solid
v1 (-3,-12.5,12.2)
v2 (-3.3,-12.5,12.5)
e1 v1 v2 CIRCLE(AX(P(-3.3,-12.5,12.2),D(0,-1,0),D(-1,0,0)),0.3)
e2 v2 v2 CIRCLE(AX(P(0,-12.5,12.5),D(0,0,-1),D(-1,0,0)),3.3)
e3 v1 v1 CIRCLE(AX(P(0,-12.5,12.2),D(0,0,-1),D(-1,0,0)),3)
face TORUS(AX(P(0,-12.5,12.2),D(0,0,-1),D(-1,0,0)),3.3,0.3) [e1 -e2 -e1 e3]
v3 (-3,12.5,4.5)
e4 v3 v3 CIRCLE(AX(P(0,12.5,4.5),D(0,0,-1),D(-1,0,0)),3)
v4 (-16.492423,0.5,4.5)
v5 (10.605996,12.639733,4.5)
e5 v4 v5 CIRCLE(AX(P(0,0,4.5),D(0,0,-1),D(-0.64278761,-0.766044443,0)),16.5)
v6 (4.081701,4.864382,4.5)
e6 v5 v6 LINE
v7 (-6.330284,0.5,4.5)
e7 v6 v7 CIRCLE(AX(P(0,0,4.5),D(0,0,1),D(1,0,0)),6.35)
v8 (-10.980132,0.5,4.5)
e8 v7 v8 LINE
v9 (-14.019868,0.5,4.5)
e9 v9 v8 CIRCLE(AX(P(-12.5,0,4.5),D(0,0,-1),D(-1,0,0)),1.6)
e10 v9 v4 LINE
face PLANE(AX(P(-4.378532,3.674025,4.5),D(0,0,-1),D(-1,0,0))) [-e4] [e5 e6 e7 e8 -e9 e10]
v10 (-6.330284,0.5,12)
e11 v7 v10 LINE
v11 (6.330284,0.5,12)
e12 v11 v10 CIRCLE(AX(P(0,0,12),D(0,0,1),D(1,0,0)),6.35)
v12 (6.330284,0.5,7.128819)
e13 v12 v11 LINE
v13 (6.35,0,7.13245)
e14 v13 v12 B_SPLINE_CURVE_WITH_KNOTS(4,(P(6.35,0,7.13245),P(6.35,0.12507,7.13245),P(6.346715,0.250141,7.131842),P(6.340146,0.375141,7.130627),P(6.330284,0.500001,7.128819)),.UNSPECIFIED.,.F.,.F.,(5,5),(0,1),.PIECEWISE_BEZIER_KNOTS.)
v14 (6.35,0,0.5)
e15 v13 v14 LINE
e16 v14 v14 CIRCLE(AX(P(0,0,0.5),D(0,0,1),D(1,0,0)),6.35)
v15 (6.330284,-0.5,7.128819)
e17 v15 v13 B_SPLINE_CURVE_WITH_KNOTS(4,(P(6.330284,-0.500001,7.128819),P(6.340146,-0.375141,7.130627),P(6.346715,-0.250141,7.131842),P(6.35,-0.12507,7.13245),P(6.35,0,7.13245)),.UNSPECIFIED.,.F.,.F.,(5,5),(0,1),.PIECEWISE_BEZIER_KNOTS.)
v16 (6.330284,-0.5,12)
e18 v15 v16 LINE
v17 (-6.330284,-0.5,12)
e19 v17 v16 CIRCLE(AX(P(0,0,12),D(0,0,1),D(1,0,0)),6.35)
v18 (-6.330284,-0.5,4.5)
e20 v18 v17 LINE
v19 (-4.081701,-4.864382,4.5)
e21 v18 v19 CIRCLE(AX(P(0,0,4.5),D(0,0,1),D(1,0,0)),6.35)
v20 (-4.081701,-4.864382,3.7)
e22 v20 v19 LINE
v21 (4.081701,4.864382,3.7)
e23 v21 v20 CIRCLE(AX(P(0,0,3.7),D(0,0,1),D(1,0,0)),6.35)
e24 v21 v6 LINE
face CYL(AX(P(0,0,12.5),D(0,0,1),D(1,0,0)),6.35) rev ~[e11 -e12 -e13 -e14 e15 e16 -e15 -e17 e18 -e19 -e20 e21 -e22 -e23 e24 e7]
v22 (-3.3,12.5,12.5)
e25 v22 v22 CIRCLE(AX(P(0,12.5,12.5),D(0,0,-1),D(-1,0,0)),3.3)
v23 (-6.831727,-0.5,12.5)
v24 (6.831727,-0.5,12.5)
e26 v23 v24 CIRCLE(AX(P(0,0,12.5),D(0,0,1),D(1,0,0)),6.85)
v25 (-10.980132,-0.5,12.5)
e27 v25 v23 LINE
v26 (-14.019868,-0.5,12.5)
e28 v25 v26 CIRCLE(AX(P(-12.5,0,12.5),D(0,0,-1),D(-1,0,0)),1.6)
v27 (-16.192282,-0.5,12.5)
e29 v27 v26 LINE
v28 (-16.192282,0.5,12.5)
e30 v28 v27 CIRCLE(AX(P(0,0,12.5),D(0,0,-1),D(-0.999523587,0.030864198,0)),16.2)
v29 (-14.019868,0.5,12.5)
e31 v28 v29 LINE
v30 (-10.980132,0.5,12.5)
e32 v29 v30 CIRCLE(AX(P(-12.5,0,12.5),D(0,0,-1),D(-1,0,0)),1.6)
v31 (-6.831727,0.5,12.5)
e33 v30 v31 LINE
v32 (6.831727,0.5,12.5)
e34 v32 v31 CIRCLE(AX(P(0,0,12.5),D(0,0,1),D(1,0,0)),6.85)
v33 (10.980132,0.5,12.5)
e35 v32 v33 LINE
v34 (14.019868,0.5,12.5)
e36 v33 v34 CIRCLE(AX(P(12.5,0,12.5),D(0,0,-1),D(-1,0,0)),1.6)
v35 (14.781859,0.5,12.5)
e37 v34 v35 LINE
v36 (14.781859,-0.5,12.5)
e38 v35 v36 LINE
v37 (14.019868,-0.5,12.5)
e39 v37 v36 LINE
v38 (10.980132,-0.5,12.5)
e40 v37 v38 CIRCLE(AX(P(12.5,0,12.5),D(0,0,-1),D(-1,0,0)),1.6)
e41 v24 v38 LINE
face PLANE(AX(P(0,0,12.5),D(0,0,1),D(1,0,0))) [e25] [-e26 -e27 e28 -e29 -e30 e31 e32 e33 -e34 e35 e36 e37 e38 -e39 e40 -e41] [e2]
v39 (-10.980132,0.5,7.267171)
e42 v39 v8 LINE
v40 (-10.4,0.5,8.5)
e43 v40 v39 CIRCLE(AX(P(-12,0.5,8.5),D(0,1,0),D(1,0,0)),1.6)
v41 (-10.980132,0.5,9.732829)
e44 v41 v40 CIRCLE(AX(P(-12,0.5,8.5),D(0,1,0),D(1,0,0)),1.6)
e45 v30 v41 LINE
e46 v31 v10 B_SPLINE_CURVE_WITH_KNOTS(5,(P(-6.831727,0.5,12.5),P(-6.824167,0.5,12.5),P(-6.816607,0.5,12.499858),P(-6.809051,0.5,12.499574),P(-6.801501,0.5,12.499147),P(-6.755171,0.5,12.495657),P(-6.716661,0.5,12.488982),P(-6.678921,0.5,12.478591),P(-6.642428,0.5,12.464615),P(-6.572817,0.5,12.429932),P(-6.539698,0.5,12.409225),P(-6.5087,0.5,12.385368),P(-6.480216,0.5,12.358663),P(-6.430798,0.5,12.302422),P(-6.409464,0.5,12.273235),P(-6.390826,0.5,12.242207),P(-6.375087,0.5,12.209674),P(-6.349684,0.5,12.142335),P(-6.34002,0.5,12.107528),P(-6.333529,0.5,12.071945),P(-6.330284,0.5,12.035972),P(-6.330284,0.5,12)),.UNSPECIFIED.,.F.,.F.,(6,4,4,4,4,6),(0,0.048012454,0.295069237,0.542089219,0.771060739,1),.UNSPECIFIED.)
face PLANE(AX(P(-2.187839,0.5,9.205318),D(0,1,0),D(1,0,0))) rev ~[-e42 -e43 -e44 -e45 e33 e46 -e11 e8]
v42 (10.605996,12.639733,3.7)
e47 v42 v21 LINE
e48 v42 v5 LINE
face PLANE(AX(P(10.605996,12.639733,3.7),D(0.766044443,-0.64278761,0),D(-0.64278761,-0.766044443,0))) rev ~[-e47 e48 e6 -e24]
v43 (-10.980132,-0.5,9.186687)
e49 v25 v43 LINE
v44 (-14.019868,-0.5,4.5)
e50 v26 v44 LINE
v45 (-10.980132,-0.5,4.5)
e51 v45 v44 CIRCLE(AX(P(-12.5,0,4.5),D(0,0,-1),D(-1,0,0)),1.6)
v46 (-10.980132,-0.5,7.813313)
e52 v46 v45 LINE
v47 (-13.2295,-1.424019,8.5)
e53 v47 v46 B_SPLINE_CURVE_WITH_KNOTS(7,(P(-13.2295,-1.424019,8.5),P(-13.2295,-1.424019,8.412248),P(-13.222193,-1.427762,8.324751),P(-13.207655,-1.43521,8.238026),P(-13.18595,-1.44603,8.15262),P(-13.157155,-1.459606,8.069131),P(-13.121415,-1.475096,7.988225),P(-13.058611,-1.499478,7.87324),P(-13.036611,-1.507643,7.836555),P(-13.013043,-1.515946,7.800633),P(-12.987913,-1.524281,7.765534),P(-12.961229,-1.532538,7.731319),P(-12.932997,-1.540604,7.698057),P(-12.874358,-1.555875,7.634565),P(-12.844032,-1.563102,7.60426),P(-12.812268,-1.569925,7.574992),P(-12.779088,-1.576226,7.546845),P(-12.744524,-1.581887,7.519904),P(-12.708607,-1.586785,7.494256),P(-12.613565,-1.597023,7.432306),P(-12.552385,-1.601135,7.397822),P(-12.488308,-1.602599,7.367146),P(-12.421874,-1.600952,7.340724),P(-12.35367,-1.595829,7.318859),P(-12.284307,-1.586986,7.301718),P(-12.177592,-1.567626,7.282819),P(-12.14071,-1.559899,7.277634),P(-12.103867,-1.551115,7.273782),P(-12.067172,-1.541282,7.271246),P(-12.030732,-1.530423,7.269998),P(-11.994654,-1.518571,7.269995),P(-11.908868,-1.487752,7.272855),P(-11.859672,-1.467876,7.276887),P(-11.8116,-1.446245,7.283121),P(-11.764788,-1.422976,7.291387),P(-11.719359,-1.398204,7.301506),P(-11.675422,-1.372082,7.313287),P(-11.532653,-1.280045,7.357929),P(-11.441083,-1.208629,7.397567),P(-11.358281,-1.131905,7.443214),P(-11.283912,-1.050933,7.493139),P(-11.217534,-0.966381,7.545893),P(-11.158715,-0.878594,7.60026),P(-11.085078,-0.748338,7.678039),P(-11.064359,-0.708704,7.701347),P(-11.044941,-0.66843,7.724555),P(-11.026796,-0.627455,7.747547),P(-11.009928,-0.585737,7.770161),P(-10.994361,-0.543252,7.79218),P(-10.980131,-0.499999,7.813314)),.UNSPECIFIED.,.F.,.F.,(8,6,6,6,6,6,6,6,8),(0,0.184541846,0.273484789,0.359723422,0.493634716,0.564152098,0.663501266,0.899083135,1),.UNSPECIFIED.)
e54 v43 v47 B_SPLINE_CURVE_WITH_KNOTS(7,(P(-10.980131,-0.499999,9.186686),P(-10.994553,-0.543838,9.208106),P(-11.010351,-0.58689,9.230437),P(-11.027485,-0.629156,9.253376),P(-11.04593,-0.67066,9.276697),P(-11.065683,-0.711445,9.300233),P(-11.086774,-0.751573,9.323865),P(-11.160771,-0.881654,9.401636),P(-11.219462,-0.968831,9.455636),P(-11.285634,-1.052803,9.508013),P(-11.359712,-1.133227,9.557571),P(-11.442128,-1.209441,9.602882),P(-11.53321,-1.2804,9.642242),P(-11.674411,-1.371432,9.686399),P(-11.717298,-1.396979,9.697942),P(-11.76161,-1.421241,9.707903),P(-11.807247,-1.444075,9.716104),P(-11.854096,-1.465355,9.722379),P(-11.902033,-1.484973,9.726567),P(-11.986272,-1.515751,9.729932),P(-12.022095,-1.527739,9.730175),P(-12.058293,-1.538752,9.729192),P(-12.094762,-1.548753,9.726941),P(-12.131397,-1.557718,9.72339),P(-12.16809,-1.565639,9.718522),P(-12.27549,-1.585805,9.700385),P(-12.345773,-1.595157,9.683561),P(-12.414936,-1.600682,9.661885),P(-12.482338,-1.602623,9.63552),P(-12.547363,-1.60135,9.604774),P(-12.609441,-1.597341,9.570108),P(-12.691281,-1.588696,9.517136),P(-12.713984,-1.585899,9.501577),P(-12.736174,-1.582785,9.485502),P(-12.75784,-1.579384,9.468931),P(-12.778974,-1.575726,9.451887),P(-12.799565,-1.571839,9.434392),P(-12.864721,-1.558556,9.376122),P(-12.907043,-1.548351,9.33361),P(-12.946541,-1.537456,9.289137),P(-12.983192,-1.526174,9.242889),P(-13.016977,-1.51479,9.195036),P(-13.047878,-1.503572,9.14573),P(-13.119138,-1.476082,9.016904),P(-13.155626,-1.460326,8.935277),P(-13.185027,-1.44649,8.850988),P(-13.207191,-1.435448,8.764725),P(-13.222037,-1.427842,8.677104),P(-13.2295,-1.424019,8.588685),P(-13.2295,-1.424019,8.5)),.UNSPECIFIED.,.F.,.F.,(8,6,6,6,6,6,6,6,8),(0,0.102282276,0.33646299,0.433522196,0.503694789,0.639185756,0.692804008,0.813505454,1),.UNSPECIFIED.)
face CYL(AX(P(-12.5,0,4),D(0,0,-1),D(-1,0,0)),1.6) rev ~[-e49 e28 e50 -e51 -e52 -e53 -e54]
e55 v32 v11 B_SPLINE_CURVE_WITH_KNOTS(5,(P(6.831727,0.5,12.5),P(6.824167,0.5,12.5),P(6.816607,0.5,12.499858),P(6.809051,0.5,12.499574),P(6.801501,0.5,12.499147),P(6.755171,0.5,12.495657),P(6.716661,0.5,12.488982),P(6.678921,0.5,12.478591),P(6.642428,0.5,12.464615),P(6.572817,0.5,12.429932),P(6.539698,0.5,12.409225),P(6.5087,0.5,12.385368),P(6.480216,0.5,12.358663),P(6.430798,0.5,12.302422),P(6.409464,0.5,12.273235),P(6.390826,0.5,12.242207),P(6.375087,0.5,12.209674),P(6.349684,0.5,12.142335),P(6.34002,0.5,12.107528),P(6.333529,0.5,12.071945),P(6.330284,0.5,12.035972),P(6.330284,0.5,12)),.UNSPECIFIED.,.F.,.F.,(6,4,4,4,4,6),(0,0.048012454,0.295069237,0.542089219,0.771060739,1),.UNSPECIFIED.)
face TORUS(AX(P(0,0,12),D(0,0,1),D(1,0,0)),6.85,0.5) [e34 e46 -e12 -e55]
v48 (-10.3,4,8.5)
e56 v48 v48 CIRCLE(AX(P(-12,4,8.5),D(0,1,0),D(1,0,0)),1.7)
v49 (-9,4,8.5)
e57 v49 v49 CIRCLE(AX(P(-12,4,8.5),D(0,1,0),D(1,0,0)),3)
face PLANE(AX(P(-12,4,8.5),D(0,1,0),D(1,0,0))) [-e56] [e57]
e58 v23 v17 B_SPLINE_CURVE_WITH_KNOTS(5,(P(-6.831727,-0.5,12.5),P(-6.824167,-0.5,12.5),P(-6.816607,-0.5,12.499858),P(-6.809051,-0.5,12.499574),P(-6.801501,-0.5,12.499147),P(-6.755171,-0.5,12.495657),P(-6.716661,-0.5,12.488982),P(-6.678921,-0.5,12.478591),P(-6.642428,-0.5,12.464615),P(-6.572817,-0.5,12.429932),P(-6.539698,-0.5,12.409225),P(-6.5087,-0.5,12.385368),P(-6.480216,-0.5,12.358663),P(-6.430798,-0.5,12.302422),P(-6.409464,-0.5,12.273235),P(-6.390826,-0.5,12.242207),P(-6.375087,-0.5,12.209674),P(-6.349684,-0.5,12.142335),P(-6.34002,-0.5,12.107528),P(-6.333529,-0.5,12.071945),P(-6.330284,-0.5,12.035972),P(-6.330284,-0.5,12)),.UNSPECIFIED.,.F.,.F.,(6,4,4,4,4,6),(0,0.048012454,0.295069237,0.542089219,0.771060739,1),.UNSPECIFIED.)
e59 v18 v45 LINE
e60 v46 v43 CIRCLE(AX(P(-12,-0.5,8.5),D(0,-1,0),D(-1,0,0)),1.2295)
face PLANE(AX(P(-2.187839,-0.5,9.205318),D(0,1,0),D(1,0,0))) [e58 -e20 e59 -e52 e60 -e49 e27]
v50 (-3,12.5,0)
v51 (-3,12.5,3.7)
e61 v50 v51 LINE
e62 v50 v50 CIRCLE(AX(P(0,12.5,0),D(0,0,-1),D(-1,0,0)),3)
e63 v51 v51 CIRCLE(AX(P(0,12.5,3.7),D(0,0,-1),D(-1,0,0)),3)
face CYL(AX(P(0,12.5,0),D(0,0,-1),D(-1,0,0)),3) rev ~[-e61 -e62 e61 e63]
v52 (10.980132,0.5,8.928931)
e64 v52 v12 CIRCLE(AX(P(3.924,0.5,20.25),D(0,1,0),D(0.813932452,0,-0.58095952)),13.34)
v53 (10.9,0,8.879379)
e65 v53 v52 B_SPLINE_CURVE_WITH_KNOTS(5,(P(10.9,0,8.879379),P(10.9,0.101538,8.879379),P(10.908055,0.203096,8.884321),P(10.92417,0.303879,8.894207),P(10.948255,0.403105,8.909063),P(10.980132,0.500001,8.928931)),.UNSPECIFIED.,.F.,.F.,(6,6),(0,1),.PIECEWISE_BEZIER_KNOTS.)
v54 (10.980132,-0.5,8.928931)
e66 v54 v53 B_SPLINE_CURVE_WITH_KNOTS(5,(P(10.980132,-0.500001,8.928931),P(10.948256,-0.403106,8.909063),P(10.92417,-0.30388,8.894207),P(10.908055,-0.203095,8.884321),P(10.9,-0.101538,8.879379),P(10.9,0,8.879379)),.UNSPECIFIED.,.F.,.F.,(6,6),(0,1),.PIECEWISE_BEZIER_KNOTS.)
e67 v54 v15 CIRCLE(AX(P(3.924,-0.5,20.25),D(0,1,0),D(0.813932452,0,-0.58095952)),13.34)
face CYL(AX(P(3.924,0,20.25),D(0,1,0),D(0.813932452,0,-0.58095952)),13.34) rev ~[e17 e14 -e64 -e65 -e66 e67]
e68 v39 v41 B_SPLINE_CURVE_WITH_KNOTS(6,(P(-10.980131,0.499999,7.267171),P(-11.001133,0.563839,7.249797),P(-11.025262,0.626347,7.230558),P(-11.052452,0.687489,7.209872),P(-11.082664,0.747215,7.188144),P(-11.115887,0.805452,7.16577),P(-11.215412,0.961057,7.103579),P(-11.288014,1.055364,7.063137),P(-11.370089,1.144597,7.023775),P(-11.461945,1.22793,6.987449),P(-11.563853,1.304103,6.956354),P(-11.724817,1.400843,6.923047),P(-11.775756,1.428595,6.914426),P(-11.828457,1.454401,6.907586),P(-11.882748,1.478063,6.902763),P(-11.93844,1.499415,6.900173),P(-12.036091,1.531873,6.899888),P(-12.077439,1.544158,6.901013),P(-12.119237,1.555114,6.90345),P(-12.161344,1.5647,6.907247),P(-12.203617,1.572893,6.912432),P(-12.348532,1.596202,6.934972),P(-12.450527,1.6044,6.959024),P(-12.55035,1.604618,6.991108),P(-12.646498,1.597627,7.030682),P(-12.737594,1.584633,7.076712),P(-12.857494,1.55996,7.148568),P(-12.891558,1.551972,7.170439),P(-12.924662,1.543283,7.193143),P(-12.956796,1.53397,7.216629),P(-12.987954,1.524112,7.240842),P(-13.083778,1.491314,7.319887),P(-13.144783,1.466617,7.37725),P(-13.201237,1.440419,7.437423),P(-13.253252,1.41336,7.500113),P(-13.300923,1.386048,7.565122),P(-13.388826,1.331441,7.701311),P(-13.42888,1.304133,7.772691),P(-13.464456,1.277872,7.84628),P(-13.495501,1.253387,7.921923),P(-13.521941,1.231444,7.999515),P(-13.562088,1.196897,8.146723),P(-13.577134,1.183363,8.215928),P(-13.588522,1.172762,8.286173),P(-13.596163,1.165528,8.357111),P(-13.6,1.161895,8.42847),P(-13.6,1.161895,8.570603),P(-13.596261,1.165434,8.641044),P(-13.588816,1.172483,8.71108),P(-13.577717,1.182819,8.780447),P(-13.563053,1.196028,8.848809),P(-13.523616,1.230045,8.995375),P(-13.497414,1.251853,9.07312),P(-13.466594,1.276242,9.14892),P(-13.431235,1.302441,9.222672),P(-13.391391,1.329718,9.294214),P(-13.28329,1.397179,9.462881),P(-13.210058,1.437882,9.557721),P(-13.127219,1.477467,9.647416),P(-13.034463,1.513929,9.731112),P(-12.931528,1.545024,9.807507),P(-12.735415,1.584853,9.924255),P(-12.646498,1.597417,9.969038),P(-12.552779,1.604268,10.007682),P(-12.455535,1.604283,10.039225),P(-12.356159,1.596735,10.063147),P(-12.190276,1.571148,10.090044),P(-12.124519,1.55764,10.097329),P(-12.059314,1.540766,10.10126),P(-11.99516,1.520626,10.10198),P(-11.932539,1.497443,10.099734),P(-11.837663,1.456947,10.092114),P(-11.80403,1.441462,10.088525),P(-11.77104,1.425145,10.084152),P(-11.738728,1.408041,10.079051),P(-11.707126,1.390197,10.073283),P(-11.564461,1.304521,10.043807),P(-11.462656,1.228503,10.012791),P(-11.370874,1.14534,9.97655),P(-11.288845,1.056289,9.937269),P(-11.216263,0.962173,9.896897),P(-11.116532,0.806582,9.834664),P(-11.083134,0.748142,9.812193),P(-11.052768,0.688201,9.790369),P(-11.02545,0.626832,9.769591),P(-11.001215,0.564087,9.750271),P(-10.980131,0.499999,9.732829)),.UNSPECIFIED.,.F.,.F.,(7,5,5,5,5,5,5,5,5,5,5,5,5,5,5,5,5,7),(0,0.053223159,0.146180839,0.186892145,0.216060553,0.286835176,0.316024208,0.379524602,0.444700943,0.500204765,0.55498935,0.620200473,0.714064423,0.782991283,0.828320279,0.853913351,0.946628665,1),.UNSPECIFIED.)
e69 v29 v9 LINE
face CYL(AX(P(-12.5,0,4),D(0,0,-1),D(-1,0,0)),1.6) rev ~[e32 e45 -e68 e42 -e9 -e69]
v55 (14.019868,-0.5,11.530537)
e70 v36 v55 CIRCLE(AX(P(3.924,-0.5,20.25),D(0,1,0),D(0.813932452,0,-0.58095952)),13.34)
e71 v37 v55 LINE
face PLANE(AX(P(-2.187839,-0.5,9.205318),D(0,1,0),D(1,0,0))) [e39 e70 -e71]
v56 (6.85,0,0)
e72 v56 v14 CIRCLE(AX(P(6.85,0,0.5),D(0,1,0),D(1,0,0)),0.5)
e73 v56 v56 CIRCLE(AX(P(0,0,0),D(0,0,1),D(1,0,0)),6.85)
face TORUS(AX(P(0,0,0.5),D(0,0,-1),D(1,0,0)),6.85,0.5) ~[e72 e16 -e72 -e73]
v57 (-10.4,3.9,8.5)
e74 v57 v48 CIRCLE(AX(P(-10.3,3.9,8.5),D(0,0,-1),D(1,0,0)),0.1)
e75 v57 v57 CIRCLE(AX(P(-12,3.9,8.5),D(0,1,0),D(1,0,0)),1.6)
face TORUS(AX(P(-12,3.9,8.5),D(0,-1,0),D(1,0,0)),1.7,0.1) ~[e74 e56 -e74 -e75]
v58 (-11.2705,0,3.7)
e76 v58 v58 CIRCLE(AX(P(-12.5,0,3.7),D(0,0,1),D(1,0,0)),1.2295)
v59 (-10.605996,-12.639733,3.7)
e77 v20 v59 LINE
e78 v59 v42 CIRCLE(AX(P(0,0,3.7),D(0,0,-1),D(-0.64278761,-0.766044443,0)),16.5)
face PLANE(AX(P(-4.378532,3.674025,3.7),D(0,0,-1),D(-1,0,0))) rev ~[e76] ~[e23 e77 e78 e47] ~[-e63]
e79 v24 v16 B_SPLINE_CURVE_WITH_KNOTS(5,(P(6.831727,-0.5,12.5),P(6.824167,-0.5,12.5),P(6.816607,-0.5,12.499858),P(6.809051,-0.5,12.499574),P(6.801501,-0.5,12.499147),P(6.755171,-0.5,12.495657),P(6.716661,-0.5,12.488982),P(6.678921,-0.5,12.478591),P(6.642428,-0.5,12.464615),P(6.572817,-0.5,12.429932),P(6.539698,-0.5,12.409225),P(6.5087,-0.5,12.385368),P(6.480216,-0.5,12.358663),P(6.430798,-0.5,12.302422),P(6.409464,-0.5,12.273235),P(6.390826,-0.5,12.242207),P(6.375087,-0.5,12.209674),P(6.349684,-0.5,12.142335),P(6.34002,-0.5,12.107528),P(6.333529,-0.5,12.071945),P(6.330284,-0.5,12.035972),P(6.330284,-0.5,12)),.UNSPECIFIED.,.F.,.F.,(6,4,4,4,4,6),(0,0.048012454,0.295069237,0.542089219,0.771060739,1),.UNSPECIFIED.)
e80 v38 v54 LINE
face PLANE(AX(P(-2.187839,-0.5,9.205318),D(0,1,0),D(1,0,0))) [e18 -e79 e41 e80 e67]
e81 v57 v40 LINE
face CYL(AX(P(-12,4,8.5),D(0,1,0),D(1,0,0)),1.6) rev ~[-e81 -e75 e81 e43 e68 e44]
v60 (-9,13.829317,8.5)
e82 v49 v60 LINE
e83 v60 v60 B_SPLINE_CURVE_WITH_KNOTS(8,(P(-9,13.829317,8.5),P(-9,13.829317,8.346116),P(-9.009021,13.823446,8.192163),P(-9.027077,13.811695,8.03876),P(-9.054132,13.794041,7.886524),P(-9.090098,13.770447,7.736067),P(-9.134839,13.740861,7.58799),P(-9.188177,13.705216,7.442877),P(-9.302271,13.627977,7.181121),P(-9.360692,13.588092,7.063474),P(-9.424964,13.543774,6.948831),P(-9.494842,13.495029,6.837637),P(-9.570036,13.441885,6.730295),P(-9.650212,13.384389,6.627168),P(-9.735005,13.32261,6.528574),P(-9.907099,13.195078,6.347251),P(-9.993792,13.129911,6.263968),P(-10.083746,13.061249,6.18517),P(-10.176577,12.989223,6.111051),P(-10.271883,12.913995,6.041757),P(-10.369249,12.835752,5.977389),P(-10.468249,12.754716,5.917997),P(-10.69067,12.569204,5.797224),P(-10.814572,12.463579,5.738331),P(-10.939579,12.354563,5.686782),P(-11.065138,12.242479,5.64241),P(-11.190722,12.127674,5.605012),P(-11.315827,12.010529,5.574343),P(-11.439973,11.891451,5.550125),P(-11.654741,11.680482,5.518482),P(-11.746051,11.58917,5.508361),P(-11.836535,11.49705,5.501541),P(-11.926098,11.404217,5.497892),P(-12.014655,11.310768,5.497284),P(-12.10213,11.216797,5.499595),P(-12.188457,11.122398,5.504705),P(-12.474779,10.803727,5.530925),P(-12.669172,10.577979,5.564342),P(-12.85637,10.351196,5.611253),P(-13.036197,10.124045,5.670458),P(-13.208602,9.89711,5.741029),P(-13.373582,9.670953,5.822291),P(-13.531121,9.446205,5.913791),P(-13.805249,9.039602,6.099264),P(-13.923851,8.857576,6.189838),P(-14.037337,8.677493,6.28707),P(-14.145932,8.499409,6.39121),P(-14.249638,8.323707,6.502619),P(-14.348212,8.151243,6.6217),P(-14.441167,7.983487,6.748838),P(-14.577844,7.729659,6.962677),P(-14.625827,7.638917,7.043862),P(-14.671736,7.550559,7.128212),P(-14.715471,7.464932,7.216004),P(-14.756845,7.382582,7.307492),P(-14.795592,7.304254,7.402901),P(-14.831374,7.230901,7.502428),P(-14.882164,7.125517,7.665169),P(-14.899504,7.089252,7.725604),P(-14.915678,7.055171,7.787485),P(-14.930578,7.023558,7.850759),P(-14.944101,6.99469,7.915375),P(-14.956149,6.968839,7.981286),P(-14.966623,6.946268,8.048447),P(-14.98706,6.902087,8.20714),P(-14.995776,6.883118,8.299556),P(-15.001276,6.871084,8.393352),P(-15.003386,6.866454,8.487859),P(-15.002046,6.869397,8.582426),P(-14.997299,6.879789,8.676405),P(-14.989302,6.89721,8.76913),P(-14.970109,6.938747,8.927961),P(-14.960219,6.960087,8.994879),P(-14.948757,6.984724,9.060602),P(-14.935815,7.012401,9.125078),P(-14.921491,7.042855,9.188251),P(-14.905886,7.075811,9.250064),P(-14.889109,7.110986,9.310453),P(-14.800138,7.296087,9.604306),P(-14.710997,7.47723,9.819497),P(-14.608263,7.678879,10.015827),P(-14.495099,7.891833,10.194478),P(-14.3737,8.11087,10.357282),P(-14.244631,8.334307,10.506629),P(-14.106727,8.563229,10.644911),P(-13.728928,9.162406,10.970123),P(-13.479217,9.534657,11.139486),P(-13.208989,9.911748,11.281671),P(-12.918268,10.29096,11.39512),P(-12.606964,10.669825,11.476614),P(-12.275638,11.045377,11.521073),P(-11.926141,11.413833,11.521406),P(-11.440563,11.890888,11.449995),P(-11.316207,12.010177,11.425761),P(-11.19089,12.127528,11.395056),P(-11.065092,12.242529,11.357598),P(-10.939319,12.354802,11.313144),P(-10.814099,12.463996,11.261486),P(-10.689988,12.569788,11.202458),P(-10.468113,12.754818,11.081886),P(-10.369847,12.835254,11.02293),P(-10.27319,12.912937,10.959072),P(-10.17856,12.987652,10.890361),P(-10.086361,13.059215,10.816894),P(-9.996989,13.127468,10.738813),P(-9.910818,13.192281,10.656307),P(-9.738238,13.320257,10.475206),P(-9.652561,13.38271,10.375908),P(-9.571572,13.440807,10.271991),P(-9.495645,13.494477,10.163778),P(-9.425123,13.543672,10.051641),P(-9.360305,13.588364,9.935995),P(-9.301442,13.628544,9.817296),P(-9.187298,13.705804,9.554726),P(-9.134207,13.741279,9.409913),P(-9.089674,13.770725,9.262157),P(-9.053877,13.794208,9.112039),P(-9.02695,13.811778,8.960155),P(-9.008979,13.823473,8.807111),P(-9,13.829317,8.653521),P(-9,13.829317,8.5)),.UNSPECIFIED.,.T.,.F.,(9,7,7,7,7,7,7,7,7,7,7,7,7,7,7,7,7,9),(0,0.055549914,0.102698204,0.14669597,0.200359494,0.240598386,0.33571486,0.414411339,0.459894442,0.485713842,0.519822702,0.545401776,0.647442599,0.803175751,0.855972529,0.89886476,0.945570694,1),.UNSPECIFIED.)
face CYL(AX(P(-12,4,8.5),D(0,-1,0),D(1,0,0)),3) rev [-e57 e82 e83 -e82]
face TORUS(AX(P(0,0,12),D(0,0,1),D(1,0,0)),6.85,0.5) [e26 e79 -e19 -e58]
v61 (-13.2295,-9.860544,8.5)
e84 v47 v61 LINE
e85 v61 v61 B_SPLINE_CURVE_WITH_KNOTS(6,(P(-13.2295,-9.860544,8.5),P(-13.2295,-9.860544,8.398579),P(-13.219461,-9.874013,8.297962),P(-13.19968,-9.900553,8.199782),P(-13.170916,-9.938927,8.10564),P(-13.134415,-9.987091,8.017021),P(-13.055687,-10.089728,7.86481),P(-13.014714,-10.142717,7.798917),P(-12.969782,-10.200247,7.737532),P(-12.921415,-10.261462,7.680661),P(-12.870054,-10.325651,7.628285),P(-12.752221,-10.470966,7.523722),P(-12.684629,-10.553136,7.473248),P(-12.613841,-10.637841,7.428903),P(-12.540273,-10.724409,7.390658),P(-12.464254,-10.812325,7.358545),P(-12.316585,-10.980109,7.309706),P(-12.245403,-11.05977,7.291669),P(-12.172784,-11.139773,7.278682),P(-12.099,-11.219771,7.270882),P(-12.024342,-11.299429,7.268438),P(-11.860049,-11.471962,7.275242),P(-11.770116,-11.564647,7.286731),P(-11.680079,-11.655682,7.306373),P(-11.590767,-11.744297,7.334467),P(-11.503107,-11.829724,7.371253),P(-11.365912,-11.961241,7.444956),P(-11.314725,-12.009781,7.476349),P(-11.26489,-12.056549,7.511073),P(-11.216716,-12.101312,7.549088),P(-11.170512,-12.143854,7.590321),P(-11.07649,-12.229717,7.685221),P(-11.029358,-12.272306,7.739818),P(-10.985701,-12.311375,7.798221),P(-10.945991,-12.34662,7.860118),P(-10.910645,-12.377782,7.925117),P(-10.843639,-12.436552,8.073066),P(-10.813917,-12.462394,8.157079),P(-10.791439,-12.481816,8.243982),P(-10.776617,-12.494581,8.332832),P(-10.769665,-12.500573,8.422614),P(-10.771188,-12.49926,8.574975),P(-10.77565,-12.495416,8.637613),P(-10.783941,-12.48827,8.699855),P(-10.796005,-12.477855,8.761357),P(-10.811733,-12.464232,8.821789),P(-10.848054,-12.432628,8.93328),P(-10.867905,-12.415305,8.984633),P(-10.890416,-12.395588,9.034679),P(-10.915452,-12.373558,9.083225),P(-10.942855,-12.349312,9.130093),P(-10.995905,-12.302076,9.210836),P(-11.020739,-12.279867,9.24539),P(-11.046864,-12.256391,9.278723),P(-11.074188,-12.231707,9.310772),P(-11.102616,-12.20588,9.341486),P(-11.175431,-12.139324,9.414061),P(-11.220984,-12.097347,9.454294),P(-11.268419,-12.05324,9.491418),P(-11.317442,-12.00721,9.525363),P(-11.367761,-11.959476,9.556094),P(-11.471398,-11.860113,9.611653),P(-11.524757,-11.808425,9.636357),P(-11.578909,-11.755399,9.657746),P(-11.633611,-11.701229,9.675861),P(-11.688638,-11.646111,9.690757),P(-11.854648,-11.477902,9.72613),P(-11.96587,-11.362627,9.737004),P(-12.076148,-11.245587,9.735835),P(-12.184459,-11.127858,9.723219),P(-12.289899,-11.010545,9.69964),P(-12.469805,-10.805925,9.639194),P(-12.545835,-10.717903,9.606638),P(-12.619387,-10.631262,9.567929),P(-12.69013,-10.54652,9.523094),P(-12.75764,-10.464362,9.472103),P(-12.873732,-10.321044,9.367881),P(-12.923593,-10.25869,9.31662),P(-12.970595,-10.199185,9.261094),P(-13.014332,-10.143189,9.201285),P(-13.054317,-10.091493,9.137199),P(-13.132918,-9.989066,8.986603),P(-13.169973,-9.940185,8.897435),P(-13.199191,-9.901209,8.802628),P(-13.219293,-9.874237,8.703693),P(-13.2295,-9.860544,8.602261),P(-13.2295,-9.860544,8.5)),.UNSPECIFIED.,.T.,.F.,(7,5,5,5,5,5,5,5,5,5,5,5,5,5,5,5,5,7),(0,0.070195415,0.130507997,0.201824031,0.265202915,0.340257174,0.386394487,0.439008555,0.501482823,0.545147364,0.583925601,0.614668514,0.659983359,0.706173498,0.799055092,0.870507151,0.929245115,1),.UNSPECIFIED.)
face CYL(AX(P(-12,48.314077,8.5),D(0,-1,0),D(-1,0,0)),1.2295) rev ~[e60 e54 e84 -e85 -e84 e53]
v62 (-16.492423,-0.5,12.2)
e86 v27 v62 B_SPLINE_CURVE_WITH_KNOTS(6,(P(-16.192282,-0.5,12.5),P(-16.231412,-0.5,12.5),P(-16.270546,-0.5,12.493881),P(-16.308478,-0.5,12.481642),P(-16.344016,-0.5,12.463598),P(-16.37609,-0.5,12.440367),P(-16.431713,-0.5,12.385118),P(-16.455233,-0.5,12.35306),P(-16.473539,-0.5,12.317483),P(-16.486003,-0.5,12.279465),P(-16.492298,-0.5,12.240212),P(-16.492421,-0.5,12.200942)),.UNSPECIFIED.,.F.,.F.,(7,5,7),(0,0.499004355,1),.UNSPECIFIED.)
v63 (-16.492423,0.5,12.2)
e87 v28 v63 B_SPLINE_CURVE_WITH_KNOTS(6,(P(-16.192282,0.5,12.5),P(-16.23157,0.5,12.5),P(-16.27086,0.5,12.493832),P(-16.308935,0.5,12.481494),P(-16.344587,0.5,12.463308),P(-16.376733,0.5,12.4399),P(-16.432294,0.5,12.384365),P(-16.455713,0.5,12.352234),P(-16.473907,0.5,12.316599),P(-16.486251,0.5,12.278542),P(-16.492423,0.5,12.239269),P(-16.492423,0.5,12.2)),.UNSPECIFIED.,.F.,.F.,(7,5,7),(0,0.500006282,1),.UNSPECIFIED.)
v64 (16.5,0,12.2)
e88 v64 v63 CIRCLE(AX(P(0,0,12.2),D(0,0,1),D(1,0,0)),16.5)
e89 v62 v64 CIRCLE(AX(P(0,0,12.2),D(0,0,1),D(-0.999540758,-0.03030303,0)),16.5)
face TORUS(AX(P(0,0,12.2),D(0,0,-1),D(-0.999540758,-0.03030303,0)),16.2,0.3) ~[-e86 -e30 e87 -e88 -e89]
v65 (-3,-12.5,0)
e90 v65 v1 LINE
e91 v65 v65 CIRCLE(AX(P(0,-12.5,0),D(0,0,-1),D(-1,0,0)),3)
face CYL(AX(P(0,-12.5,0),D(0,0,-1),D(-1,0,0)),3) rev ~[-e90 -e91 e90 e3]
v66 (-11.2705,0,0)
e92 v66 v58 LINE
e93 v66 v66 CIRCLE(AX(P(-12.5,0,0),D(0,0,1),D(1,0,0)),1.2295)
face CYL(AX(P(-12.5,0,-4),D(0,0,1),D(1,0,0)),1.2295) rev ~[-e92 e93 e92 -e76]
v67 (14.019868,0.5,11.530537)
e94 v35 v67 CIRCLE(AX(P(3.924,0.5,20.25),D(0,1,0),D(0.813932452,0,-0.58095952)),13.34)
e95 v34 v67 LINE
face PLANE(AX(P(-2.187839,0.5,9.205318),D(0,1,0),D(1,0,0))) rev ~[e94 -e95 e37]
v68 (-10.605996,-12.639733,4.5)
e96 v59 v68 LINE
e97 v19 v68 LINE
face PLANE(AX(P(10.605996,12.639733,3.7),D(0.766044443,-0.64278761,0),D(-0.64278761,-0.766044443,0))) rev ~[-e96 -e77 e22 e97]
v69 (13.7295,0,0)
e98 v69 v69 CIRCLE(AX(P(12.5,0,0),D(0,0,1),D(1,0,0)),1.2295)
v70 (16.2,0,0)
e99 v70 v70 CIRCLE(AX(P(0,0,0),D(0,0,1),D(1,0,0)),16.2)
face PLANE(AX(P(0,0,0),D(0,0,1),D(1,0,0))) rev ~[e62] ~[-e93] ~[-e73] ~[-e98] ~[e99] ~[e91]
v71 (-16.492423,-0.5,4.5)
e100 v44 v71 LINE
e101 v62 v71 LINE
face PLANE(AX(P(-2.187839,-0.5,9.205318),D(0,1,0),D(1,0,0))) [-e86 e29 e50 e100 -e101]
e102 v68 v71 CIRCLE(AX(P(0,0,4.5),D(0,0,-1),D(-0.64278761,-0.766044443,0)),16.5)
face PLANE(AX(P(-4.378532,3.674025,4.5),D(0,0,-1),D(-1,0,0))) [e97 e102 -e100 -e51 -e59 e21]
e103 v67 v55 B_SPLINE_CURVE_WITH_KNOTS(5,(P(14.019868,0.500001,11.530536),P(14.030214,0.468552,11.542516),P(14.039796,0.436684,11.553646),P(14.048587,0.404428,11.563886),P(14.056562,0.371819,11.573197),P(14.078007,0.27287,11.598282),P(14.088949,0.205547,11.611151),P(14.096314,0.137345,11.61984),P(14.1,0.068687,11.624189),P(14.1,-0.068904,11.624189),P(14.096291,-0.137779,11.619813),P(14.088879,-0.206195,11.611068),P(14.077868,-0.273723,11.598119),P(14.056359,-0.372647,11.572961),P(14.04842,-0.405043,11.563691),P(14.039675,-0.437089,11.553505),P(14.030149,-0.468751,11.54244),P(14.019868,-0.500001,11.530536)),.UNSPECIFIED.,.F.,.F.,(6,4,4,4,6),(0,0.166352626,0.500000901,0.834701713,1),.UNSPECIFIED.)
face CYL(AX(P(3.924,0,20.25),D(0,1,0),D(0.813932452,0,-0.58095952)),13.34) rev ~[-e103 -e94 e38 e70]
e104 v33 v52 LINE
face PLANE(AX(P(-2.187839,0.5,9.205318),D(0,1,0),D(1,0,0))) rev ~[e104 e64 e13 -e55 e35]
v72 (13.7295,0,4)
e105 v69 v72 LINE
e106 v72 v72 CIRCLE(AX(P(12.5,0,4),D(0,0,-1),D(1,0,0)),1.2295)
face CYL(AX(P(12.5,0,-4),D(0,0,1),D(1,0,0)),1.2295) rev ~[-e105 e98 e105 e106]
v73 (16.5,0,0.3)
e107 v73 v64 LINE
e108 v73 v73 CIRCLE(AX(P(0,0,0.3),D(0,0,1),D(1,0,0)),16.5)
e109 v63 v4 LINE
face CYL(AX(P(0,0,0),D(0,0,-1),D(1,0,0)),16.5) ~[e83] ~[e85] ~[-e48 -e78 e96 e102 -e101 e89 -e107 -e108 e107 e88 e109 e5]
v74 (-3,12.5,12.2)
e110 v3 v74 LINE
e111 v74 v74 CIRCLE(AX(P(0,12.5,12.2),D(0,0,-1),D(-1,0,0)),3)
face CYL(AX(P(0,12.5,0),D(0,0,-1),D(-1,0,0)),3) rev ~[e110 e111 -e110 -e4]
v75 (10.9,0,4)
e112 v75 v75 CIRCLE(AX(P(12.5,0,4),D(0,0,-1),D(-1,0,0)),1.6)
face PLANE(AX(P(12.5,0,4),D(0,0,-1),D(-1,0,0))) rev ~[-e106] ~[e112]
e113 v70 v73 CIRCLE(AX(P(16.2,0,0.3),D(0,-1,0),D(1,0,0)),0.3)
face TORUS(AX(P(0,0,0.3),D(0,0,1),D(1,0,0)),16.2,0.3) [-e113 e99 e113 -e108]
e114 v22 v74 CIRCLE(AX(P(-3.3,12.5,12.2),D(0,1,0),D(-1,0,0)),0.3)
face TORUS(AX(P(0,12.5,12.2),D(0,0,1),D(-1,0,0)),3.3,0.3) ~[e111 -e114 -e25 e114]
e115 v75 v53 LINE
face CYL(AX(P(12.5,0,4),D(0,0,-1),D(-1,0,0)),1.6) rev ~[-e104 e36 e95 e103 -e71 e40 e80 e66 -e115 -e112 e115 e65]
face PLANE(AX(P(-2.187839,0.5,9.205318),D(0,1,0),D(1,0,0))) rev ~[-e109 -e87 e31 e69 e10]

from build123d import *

# Parameters (mm, degrees)
SKETCH1_R           = 16.5
BOSS_EXTRUDE1_DEPTH = 12.5
CUT_EXTRUDE21_DEPTH = 0.8
SKETCH4_R           = 6.35
CUT_EXTRUDE2_DEPTH  = 27.471682984
FILLET3_R           = 0.5
CUT_EXTRUDE11_DEPTH = 0.5
SKETCH5_R           = 3
CUT_EXTRUDE4_DEPTH  = 27.471683031
TAP1_D              = 2.459
TAP1_DEPTH          = 4
TAP1_TIP            = 0.738758131
SKETCH9_R           = 3
CUT_EXTRUDE6_DEPTH  = 30.133314307
SKETCH11_R          = 1.6
CUT_EXTRUDE7_DEPTH  = 4.5
TAP2_D              = 2.459
FILLET1_R           = 0.3
FILLET2_R           = 0.3
FILLET4_R           = 0.1
SKETCH16_R          = 1.6
CUT_EXTRUDE24_DEPTH = 25.834452043


with BuildPart() as part:
    # Sketch1 → Boss-Extrude1 (new body)
    with BuildSketch(Plane.XY):
        Circle(SKETCH1_R)
    extrude(amount=BOSS_EXTRUDE1_DEPTH)

    # Sketch2 → Cut-Extrude21 (cut)
    with BuildSketch(Plane(origin=(0, 0, 3.7), x_dir=(-1, 0, 0), z_dir=(0, 0, -1))):
        with BuildLine():
            Line((-10.60599556, 12.639733311), (10.60599556, -12.639733311))
            ThreePointArc((10.60599556, -12.639733311), (12.639733311, 10.60599556), (-10.60599556, 12.639733311))
        make_face()
    extrude(amount=-CUT_EXTRUDE21_DEPTH, mode=Mode.SUBTRACT)

    # Sketch4 → Cut-Extrude2 (cut, through all)
    with BuildSketch(Plane.XY.offset(12.5)):
        Circle(SKETCH4_R)
    extrude(amount=-CUT_EXTRUDE2_DEPTH, mode=Mode.SUBTRACT)

    # Fillet3
    fillet3_edges = [part.edges().sort_by_distance(p)[0] for p in [
        (-6.35, 0, 0),
        (-6.35, 0, 12.5),
    ]]
    fillet(fillet3_edges, radius=FILLET3_R)

    # Sketch3 → Cut-Extrude11 (cut, symmetric)
    with BuildSketch(Plane(origin=(0, 0, 0), x_dir=(1, 0, 0), z_dir=(0, 1, 0))):
        with BuildLine():
            Line((0, -4.5), (-16.5, -4.5))
            Line((-16.5, -4.5), (-16.5, -12.5))
            Line((-16.5, -12.5), (14.781858905, -12.5))
            ThreePointArc((14.781858905, -12.5), (8.198241617, -7.613289249), (0, -7.500183374))
            Line((0, -7.500183374), (0, -4.5))
        make_face()
    extrude(amount=CUT_EXTRUDE11_DEPTH, both=True, mode=Mode.SUBTRACT)

    # Sketch5 → Cut-Extrude4 (cut, through all)
    with BuildSketch(Plane(origin=(0, 0, 0), x_dir=(-1, 0, 0), z_dir=(0, 0, -1))):
        with Locations((0, 12.5)):
            Circle(SKETCH5_R)
        with Locations((0, -12.5)):
            Circle(SKETCH5_R)
    extrude(amount=-CUT_EXTRUDE4_DEPTH, mode=Mode.SUBTRACT)

    # Tap1
    with Locations(Plane(origin=(0, 0, 0), x_dir=(-1, 0, 0), z_dir=(0, 0, -1))):
        with Locations((-12.5, 0), (12.5, 0)):
            Hole(TAP1_D / 2, depth=TAP1_DEPTH)
            with Locations((0, 0, -(TAP1_DEPTH + TAP1_TIP / 2))):  # 118° drill point
                Cone(0, TAP1_D / 2, TAP1_TIP, mode=Mode.SUBTRACT)

    # Sketch9 → Cut-Extrude6 (cut, through all)
    with BuildSketch(Plane(origin=(0, 4, 0), x_dir=(1, 0, 0), z_dir=(0, 1, 0))):
        with Locations((-12, -8.5)):
            Circle(SKETCH9_R)
    extrude(amount=CUT_EXTRUDE6_DEPTH, mode=Mode.SUBTRACT)

    # Sketch11 → Cut-Extrude7 (cut)
    with BuildSketch(Plane(origin=(0, 4, 0), x_dir=(1, 0, 0), z_dir=(0, 1, 0))):
        with Locations((-12, -8.5)):
            Circle(SKETCH11_R)
    extrude(amount=-CUT_EXTRUDE7_DEPTH, mode=Mode.SUBTRACT)

    # Tap2 (through all)
    with Locations(Plane(origin=(0, 0, 0), x_dir=(1, 0, 0), z_dir=(0, 1, 0))):
        with Locations((-12, -8.5)):
            Hole(TAP2_D / 2)

    # Fillet1
    fillet1_edges = [part.edges().sort_by_distance(p)[0] for p in [
        (3, -12.5, 12.5),
        (3, 12.5, 12.5),
    ]]
    fillet(fillet1_edges, radius=FILLET1_R)

    # Fillet2
    fillet2_edges = [part.edges().sort_by_distance(p)[0] for p in [
        (-16.5, 0, 0),
        (0.250028708, 16.498105517, 12.5),
    ]]
    fillet(fillet2_edges, radius=FILLET2_R)

    # Fillet4
    fillet4_edges = [part.edges().sort_by_distance(p)[0] for p in [
        (-13.6, 4, 8.5),
    ]]
    fillet(fillet4_edges, radius=FILLET4_R)

    # Sketch16 → Cut-Extrude24 (cut, through all)
    with BuildSketch(Plane(origin=(0, 0, 4), x_dir=(-1, 0, 0), z_dir=(0, 0, -1))):
        with Locations((12.5, 0)):
            Circle(SKETCH16_R)
        with Locations((-12.5, 0)):
            Circle(SKETCH16_R)
    extrude(amount=-CUT_EXTRUDE24_DEPTH, mode=Mode.SUBTRACT)


solid = part.part
